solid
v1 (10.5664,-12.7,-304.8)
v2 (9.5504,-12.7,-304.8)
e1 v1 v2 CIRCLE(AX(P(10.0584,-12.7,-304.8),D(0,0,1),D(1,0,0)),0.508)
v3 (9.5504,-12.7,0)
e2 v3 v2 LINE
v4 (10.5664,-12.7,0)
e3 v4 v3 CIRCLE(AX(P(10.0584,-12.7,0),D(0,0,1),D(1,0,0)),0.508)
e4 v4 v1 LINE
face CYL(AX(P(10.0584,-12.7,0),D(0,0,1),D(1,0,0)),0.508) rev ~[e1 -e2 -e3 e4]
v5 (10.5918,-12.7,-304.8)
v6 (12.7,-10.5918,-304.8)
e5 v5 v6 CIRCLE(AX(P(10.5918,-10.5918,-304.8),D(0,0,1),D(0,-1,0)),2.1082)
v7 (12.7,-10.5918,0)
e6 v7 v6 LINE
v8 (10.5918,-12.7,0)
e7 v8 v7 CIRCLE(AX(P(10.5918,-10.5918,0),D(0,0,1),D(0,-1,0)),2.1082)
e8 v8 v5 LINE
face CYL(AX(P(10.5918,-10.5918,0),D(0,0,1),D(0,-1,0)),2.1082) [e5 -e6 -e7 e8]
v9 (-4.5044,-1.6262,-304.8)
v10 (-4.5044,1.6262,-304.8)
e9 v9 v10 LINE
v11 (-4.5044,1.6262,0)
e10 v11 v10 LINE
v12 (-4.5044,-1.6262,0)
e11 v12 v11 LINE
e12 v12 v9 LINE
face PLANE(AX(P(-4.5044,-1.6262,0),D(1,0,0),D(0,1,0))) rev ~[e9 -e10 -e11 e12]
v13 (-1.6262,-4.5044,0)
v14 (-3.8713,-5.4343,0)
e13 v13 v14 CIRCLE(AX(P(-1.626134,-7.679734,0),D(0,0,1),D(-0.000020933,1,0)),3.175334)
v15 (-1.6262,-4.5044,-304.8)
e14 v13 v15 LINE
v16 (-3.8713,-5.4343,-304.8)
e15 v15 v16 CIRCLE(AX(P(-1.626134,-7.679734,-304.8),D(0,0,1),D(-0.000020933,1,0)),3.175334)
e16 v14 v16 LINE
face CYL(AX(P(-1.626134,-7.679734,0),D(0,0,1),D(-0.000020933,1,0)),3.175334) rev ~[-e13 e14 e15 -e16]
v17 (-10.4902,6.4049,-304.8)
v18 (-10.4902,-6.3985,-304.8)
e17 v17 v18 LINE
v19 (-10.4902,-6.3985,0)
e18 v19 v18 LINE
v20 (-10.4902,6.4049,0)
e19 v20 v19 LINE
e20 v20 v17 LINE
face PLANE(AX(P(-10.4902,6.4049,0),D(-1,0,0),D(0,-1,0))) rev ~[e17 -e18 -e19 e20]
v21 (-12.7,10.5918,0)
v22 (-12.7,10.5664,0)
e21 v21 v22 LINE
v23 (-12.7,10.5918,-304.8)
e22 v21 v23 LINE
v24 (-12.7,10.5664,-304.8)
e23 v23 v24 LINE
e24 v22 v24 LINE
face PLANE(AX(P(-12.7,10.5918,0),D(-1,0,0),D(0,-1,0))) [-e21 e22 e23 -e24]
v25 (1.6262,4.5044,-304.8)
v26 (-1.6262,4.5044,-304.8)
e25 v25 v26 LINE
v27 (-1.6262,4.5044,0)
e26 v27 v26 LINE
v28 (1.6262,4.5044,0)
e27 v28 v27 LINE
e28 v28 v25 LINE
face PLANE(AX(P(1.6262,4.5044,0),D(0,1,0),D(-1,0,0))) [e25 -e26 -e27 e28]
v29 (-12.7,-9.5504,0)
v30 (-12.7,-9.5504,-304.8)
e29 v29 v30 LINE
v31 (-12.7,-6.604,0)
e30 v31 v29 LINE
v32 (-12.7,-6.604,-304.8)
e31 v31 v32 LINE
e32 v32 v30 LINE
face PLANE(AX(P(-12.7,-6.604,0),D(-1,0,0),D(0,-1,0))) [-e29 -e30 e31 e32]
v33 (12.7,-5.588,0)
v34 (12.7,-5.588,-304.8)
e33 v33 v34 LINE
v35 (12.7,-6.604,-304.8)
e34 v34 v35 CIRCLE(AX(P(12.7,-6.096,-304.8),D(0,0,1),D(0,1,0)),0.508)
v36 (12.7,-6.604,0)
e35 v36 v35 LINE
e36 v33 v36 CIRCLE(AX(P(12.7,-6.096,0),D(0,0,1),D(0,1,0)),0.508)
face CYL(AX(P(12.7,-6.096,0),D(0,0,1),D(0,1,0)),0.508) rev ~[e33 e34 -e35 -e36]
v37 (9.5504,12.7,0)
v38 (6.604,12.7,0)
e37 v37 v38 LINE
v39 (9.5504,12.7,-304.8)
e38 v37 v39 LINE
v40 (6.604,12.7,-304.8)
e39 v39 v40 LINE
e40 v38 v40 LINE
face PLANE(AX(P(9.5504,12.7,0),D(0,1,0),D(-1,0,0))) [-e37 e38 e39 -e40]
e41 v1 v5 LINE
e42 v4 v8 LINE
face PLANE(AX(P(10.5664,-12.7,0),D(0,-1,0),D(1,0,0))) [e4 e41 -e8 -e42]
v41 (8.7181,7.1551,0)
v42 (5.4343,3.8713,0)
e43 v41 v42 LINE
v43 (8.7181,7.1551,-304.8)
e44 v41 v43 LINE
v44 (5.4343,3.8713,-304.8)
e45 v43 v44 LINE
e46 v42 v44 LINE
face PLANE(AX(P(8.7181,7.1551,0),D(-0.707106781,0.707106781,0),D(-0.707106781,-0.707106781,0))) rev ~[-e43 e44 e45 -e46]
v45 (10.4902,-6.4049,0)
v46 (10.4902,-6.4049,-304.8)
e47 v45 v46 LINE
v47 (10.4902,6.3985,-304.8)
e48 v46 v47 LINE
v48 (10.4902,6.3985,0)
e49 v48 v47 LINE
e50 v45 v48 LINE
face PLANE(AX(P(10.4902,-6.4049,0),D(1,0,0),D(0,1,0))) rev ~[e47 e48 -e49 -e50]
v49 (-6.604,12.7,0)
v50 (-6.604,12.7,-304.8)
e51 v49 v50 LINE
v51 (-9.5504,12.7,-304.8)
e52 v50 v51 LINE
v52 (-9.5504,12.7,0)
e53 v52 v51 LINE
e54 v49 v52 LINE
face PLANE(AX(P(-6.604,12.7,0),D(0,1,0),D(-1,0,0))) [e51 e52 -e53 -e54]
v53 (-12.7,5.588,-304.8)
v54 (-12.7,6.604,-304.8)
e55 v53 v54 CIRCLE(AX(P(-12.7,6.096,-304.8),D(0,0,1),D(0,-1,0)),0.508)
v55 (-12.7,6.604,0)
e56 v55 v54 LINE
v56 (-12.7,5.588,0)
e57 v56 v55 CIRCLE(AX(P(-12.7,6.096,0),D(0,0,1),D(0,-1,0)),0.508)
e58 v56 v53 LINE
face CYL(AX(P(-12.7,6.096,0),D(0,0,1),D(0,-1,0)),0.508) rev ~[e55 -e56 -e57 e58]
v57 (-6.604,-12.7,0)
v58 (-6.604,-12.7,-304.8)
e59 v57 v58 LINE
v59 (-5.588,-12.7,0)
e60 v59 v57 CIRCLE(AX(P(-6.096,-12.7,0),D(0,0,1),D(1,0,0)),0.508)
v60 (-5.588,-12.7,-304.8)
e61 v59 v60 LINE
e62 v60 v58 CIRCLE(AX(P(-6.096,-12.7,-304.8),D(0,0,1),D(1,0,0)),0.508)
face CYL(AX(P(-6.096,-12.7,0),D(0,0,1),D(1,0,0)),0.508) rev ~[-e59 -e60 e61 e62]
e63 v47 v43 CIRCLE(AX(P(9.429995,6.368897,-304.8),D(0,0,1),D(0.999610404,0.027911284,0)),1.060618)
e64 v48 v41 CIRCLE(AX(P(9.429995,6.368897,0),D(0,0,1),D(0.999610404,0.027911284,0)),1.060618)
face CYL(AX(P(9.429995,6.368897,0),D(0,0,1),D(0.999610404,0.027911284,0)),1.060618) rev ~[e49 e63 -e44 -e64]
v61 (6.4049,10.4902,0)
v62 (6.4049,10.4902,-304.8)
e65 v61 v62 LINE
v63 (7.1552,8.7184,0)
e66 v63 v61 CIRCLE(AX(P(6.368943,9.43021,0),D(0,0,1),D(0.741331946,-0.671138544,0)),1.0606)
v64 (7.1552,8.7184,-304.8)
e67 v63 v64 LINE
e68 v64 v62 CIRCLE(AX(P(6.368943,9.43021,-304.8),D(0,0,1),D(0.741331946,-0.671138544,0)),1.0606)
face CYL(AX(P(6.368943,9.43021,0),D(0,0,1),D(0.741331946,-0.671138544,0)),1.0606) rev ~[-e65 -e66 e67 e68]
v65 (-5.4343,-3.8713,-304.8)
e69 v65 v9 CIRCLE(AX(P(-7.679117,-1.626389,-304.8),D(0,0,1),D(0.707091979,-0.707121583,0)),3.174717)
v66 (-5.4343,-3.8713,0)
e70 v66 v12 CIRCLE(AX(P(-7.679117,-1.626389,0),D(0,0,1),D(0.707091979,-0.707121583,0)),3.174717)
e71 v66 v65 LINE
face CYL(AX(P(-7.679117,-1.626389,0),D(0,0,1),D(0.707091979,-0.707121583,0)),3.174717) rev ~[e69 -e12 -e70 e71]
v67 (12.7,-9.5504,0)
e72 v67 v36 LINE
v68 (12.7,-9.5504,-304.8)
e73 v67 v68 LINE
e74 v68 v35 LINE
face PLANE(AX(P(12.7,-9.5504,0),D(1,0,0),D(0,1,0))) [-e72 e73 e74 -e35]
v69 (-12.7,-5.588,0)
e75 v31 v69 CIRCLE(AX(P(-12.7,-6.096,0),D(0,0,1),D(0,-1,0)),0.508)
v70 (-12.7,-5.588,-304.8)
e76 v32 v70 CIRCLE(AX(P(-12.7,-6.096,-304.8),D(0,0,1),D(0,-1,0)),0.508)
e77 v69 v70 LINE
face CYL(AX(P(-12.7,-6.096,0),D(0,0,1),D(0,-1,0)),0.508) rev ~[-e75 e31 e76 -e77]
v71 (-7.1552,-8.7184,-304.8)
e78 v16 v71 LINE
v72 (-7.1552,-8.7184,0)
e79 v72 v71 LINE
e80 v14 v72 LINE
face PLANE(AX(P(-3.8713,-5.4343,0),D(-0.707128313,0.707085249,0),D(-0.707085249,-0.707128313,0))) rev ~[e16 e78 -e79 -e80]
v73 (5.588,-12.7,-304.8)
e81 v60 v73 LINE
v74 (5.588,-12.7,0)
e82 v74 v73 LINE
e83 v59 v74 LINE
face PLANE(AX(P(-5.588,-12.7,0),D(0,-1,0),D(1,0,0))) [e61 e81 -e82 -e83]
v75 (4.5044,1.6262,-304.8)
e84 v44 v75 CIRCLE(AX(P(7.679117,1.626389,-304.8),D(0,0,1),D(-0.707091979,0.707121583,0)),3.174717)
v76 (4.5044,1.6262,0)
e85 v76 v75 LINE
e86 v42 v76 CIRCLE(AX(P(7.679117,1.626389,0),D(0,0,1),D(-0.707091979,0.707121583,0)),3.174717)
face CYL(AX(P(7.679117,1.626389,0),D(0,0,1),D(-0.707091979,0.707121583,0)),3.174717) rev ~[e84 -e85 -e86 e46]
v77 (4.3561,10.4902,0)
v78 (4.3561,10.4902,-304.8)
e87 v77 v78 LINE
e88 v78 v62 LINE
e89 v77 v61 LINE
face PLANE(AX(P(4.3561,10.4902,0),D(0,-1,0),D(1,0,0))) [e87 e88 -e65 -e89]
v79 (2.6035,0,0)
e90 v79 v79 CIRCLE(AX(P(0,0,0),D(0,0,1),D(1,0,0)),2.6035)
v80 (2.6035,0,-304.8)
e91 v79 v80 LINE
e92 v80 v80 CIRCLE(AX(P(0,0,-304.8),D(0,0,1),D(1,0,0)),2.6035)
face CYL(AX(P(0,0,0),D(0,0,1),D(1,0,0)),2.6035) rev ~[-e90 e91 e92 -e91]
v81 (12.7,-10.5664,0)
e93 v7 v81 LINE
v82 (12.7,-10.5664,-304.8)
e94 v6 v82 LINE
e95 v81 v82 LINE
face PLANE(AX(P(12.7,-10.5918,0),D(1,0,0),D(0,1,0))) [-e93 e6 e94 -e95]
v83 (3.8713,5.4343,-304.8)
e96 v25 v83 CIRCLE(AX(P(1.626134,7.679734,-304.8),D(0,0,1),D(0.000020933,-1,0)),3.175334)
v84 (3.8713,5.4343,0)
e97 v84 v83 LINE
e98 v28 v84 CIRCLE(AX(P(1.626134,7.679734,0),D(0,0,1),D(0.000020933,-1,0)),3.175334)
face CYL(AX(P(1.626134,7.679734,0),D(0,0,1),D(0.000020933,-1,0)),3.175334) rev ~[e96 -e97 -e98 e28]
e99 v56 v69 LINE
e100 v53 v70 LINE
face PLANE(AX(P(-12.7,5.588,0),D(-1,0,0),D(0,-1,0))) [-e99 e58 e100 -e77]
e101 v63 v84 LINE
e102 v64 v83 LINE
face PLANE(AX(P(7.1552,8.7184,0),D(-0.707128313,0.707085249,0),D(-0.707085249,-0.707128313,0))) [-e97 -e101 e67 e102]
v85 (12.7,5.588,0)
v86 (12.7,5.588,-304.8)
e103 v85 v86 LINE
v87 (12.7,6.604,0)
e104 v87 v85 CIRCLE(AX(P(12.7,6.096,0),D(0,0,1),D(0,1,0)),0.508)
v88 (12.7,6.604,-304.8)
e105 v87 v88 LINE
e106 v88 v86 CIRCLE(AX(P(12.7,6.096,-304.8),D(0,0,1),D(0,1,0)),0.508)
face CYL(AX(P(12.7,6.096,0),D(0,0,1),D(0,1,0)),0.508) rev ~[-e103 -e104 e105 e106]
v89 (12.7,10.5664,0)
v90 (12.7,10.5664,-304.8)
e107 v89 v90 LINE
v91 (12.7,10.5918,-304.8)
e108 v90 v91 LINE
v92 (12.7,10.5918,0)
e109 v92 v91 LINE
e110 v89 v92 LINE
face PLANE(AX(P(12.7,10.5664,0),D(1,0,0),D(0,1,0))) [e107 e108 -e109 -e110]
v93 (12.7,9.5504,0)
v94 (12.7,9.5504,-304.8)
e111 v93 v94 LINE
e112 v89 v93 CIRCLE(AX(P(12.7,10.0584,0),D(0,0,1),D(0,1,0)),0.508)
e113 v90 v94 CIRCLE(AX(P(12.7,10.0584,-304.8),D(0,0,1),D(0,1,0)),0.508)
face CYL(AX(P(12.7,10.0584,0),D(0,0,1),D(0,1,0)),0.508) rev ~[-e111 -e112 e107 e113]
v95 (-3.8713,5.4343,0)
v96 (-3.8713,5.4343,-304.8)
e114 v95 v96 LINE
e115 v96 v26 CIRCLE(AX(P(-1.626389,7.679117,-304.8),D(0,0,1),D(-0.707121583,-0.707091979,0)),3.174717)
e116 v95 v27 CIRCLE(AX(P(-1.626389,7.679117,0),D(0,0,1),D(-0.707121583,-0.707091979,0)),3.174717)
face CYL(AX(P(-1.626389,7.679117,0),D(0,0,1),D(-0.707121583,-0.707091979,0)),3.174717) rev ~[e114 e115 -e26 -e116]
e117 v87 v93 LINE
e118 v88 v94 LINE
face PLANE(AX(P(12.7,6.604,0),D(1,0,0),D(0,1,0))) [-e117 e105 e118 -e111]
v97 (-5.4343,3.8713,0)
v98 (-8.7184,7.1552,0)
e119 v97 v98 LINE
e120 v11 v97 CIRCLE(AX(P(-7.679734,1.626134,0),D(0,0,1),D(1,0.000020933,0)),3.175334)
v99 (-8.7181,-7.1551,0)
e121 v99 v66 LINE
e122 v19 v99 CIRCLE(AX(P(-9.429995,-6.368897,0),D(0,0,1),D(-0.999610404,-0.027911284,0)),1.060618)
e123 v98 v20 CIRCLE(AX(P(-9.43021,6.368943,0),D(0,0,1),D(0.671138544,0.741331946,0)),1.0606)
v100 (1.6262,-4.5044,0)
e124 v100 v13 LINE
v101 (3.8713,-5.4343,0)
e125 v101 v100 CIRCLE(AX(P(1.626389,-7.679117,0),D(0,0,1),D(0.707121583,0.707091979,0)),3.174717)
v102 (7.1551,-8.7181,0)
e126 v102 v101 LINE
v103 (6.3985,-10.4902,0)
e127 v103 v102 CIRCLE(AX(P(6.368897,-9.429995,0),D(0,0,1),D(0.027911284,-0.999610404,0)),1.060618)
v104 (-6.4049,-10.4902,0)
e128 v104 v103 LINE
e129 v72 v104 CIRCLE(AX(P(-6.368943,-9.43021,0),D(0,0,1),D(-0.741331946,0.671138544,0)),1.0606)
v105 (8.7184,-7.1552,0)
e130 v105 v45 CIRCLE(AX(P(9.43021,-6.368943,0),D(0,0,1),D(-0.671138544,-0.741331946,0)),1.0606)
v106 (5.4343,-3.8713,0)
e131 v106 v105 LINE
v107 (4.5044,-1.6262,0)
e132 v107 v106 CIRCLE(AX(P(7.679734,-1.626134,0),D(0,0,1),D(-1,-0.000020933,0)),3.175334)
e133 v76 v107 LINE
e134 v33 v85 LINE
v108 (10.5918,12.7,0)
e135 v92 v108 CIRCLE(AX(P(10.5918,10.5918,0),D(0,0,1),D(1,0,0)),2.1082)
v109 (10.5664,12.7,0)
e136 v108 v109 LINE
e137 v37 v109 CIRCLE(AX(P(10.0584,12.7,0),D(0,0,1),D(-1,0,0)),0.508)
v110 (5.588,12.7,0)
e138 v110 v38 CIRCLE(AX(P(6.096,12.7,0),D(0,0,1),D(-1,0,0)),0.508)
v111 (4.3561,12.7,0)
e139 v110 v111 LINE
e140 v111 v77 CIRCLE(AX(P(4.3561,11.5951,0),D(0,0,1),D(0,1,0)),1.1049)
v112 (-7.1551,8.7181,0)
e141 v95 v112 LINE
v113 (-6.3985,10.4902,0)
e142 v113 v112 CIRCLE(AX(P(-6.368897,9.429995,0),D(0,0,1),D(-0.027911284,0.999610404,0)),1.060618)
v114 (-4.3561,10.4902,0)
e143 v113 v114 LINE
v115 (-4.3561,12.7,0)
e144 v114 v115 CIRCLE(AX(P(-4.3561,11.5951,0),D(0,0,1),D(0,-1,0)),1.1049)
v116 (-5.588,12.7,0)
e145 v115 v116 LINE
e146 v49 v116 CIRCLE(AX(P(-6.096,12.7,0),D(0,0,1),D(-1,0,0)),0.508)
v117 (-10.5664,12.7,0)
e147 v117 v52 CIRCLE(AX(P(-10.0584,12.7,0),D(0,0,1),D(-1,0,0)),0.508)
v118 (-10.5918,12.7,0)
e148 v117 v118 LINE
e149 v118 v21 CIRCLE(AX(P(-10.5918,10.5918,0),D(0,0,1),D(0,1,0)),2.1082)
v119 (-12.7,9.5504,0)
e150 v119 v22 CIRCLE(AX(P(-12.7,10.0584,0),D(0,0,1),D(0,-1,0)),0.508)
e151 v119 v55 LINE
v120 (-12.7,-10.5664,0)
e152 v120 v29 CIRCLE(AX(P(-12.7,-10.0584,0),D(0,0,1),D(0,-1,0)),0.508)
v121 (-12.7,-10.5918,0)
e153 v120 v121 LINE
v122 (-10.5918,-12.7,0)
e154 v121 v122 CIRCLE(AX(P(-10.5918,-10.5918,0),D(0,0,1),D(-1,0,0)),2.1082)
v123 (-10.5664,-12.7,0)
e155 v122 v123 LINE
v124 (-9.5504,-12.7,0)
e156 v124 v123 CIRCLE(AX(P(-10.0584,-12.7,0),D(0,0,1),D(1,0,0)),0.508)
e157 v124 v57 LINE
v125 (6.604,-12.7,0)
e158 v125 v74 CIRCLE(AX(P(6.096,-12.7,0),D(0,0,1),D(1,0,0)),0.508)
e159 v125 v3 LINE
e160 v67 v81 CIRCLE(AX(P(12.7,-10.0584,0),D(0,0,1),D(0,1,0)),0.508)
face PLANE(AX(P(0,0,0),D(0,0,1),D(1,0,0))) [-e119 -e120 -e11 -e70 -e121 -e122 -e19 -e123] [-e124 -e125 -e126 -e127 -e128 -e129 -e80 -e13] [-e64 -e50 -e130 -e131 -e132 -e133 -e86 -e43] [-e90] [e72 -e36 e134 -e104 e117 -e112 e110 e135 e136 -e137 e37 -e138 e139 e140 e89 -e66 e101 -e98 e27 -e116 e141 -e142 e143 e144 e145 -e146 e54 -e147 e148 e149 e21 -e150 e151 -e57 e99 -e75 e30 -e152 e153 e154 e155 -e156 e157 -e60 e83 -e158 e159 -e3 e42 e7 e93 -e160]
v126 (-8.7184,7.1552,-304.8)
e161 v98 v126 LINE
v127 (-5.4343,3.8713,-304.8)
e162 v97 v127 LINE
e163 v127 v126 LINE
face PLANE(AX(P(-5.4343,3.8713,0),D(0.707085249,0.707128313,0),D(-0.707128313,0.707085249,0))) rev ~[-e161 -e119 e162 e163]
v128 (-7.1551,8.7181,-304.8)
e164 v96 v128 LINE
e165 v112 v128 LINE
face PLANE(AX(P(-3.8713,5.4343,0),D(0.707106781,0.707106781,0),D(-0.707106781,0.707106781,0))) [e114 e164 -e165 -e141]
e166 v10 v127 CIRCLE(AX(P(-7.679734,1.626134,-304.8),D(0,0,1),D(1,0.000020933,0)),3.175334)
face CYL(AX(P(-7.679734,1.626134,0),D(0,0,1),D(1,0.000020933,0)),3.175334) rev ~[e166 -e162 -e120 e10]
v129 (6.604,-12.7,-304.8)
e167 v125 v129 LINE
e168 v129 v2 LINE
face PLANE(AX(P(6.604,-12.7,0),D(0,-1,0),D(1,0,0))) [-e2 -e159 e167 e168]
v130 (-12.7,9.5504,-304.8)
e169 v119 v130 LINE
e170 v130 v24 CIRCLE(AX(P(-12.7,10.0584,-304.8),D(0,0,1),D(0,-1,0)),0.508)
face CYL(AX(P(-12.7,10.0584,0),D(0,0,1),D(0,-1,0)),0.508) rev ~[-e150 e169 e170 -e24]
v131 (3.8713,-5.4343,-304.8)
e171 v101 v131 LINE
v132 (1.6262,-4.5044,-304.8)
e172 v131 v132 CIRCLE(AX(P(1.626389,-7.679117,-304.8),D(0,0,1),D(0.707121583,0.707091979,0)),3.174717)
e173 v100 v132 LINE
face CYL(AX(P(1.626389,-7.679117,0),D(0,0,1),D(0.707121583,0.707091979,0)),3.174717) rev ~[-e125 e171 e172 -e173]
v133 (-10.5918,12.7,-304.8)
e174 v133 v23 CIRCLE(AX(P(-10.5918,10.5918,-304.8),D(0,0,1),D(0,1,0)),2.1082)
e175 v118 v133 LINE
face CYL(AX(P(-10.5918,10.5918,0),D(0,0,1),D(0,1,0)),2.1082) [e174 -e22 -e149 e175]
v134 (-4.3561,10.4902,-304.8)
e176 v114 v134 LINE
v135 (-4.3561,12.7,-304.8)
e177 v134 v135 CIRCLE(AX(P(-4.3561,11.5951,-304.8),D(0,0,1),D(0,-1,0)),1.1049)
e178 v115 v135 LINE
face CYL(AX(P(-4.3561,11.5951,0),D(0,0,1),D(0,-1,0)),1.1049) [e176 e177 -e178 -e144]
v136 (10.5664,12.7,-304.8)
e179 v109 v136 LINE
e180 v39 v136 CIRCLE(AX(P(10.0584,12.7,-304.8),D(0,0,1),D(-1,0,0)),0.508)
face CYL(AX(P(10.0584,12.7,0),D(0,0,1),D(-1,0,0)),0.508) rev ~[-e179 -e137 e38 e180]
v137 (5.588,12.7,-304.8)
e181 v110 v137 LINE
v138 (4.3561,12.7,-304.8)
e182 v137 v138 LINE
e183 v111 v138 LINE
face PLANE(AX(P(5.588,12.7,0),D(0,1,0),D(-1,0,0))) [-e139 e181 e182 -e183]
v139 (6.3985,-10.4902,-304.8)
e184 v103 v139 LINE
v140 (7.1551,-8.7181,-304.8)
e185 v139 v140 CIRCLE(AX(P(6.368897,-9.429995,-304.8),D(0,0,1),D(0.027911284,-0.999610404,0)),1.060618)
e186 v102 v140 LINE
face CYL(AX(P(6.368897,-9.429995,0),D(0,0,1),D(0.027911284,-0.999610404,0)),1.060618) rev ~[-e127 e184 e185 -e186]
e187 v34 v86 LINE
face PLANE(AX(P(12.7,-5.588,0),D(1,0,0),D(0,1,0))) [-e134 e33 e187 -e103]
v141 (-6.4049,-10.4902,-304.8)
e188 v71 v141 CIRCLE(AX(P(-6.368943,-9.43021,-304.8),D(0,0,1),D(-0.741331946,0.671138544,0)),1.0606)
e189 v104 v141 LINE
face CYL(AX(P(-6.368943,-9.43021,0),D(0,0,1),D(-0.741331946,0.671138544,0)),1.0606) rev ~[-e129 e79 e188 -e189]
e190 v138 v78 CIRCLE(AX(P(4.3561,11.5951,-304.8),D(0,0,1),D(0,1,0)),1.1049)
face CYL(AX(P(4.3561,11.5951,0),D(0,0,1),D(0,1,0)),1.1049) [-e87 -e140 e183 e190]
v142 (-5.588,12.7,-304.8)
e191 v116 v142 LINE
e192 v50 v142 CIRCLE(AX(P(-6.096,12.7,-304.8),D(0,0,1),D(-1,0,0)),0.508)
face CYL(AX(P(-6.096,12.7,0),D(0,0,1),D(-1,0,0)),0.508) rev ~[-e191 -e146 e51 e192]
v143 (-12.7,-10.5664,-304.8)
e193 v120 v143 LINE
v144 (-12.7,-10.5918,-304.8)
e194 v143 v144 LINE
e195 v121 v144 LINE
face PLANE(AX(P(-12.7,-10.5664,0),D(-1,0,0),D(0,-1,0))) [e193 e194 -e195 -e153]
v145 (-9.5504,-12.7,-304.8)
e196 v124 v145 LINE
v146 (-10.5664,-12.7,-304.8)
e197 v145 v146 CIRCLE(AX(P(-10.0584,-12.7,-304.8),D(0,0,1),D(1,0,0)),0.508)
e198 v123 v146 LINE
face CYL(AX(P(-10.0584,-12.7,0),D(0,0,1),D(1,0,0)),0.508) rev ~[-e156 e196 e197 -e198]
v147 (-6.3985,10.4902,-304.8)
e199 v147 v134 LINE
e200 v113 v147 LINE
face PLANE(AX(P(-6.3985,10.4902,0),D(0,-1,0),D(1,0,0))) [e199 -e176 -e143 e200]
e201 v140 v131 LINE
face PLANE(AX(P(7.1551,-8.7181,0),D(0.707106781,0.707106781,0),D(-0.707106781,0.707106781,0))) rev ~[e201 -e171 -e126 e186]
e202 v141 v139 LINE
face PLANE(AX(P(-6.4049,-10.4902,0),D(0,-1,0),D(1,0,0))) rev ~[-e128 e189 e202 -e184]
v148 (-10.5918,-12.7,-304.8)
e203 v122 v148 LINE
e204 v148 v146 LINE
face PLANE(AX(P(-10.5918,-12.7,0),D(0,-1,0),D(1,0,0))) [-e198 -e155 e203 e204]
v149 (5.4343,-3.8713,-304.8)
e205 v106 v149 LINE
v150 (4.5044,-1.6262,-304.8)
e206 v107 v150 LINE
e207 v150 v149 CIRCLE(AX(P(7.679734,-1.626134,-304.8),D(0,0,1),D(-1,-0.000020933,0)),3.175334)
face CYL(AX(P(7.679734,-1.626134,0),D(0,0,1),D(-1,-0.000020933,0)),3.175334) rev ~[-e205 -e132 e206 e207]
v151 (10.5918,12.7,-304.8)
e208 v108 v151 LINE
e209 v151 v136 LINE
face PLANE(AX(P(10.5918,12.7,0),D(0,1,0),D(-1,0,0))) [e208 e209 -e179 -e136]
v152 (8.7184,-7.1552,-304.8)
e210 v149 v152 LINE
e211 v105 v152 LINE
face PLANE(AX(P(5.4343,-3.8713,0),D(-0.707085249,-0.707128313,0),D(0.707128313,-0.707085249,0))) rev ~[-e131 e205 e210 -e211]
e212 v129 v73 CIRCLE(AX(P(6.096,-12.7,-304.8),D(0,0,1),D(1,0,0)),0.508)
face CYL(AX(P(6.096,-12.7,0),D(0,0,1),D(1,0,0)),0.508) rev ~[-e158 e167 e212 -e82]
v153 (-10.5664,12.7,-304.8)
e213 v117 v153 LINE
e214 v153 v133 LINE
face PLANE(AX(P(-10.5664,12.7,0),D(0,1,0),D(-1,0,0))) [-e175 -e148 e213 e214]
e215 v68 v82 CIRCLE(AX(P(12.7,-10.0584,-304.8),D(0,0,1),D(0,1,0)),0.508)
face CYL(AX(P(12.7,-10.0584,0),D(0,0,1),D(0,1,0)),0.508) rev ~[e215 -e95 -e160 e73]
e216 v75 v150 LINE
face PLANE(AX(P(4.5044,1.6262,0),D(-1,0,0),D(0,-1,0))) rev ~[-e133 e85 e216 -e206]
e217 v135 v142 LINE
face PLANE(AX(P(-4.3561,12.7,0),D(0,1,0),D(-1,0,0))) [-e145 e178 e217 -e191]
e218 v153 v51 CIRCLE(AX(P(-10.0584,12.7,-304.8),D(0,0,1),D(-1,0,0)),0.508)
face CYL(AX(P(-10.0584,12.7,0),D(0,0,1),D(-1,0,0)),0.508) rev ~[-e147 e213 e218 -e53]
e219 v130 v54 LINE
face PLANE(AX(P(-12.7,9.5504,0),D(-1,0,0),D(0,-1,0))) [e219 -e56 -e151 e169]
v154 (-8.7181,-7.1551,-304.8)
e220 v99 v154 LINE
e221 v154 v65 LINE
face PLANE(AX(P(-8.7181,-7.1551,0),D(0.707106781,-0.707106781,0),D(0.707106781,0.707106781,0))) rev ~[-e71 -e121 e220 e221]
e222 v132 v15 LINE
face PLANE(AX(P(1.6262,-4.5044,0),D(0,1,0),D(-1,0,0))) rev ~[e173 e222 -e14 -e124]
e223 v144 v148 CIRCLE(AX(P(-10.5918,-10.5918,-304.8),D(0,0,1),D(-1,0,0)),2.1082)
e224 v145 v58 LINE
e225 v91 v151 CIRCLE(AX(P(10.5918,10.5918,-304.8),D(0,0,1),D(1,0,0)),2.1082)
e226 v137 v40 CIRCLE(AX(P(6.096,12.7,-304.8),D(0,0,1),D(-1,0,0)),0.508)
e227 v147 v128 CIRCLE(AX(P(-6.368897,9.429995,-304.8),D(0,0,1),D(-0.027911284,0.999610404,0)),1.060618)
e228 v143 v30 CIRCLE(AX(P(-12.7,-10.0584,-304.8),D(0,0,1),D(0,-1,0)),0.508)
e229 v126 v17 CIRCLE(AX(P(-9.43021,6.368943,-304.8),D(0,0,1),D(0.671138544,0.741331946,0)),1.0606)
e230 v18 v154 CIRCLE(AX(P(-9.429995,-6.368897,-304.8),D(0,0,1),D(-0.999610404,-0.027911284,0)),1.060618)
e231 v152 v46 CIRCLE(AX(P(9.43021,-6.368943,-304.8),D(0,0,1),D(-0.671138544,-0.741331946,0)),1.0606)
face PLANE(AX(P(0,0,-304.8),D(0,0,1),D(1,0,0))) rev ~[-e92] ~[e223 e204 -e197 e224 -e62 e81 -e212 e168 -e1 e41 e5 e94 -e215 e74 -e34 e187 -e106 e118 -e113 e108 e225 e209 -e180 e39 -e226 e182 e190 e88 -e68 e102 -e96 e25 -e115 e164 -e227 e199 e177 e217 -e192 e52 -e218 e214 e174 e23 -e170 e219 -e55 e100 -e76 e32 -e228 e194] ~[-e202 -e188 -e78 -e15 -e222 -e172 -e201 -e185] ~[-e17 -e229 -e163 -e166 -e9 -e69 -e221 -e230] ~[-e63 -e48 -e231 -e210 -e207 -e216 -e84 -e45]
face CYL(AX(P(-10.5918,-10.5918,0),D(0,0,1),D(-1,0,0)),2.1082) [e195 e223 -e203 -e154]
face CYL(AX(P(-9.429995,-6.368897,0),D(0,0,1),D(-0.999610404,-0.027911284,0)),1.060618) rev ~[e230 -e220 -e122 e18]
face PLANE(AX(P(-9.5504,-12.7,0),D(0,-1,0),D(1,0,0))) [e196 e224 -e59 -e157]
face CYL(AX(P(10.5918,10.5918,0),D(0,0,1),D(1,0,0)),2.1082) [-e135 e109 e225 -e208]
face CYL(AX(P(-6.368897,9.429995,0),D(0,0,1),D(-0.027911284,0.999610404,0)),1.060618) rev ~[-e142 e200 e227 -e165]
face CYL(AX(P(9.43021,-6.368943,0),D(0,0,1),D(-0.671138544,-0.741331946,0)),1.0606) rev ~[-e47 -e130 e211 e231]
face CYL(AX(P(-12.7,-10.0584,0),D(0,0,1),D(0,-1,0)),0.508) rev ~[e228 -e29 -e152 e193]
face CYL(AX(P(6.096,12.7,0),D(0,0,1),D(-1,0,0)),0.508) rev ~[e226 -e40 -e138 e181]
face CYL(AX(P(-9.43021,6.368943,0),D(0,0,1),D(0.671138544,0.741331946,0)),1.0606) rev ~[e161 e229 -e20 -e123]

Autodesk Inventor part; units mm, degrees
ref_plane "YZ Plane" through (0, 0, 0) normal (1, 0, 0) x (0, 1, 0)
ref_plane "XZ Plane" through (0, 0, 0) normal (0, 1, 0) x (-1, 0, 0)
ref_plane "XY Plane" through (0, 0, 0) normal (0, 0, 1) x (1, 0, 0)
sketch "Sketch1" plane through (0, 0, 0) normal (0, 0, 1) x (1, 0, 0)
  arc A0 (-1.6262, -4.5044) -> (-3.8713, -5.4343) centre (-1.6262, -7.6794) ccw
  line L0 (1.6262, -4.5044) -> (-1.6262, -4.5044)
  arc A1 (3.8713, -5.4343) -> (1.6262, -4.5044) centre (1.6262, -7.6794) ccw
  line L1 (7.1551, -8.7181) -> (3.8713, -5.4343)
  arc A2 (6.3985, -10.4902) -> (7.1551, -8.7181) centre (6.3689, -9.43) ccw
  line L2 (-6.4049, -10.4902) -> (6.3985, -10.4902)
  arc A3 (-7.1552, -8.7184) -> (-6.4049, -10.4902) centre (-6.369, -9.4302) ccw
  line L3 (-3.8713, -5.4343) -> (-7.1552, -8.7184)
  circle A4 centre (0, 0) radius 2.6035
  arc A5 (-4.5044, 1.6262) -> (-5.4343, 3.8713) centre (-7.6794, 1.6262) ccw
  line L4 (-4.5044, -1.6262) -> (-4.5044, 1.6262)
  arc A6 (-5.4343, -3.8713) -> (-4.5044, -1.6262) centre (-7.6794, -1.6262) ccw
  line L5 (-8.7181, -7.1551) -> (-5.4343, -3.8713)
  arc A7 (-10.4902, -6.3985) -> (-8.7181, -7.1551) centre (-9.43, -6.3689) ccw
  line L6 (-10.4902, 6.4049) -> (-10.4902, -6.3985)
  arc A8 (-8.7184, 7.1552) -> (-10.4902, 6.4049) centre (-9.4302, 6.369) ccw
  line L7 (-5.4343, 3.8713) -> (-8.7184, 7.1552)
  arc A9 (8.7184, -7.1552) -> (10.4902, -6.4049) centre (9.4302, -6.369) ccw
  line L8 (5.4343, -3.8713) -> (8.7184, -7.1552)
  arc A10 (4.5044, -1.6262) -> (5.4343, -3.8713) centre (7.6794, -1.6262) ccw
  line L9 (4.5044, 1.6262) -> (4.5044, -1.6262)
  arc A11 (5.4343, 3.8713) -> (4.5044, 1.6262) centre (7.6794, 1.6262) ccw
  line L10 (8.7181, 7.1551) -> (5.4343, 3.8713)
  arc A12 (10.4902, 6.3985) -> (8.7181, 7.1551) centre (9.43, 6.3689) ccw
  line L11 (10.4902, -6.4049) -> (10.4902, 6.3985)
  arc A13 (12.7, -9.5504) -> (12.7, -10.5664) centre (12.7, -10.0584) ccw
  line L12 (12.7, -9.5504) -> (12.7, -6.604)
  arc A14 (12.7, -5.588) -> (12.7, -6.604) centre (12.7, -6.096) ccw
  line L13 (12.7, -5.588) -> (12.7, 5.588)
  arc A15 (12.7, 6.604) -> (12.7, 5.588) centre (12.7, 6.096) ccw
  line L14 (12.7, 6.604) -> (12.7, 9.5504)
  arc A16 (12.7, 10.5664) -> (12.7, 9.5504) centre (12.7, 10.0584) ccw
  line L15 (12.7, 10.5664) -> (12.7, 10.5918)
  arc A17 (12.7, 10.5918) -> (10.5918, 12.7) centre (10.5918, 10.5918) ccw
  line L16 (10.5918, 12.7) -> (10.5664, 12.7)
  arc A18 (9.5504, 12.7) -> (10.5664, 12.7) centre (10.0584, 12.7) ccw
  line L17 (9.5504, 12.7) -> (6.604, 12.7)
  arc A19 (5.588, 12.7) -> (6.604, 12.7) centre (6.096, 12.7) ccw
  line L18 (5.588, 12.7) -> (4.3561, 12.7)
  arc A20 (4.3561, 12.7) -> (4.3561, 10.4902) centre (4.3561, 11.5951) ccw
  line L19 (4.3561, 10.4902) -> (6.4049, 10.4902)
  arc A21 (7.1552, 8.7184) -> (6.4049, 10.4902) centre (6.369, 9.4302) ccw
  line L20 (7.1552, 8.7184) -> (3.8713, 5.4343)
  arc A22 (1.6262, 4.5044) -> (3.8713, 5.4343) centre (1.6262, 7.6794) ccw
  line L21 (1.6262, 4.5044) -> (-1.6262, 4.5044)
  arc A23 (-3.8713, 5.4343) -> (-1.6262, 4.5044) centre (-1.6262, 7.6794) ccw
  line L22 (-3.8713, 5.4343) -> (-7.1551, 8.7181)
  arc A24 (-6.3985, 10.4902) -> (-7.1551, 8.7181) centre (-6.3689, 9.43) ccw
  line L23 (-6.3985, 10.4902) -> (-4.3561, 10.4902)
  arc A25 (-4.3561, 10.4902) -> (-4.3561, 12.7) centre (-4.3561, 11.5951) ccw
  line L24 (-4.3561, 12.7) -> (-5.588, 12.7)
  arc A26 (-6.604, 12.7) -> (-5.588, 12.7) centre (-6.096, 12.7) ccw
  line L25 (-6.604, 12.7) -> (-9.5504, 12.7)
  arc A27 (-10.5664, 12.7) -> (-9.5504, 12.7) centre (-10.0584, 12.7) ccw
  line L26 (-10.5664, 12.7) -> (-10.5918, 12.7)
  arc A28 (-10.5918, 12.7) -> (-12.7, 10.5918) centre (-10.5918, 10.5918) ccw
  line L27 (-12.7, 10.5918) -> (-12.7, 10.5664)
  arc A29 (-12.7, 9.5504) -> (-12.7, 10.5664) centre (-12.7, 10.0584) ccw
  line L28 (-12.7, 9.5504) -> (-12.7, 6.604)
  arc A30 (-12.7, 5.588) -> (-12.7, 6.604) centre (-12.7, 6.096) ccw
  line L29 (-12.7, 5.588) -> (-12.7, -5.588)
  arc A31 (-12.7, -6.604) -> (-12.7, -5.588) centre (-12.7, -6.096) ccw
  line L30 (-12.7, -6.604) -> (-12.7, -9.5504)
  arc A32 (-12.7, -10.5664) -> (-12.7, -9.5504) centre (-12.7, -10.0584) ccw
  line L31 (-12.7, -10.5664) -> (-12.7, -10.5918)
  arc A33 (-12.7, -10.5918) -> (-10.5918, -12.7) centre (-10.5918, -10.5918) ccw
  line L32 (-10.5918, -12.7) -> (-10.5664, -12.7)
  arc A34 (-9.5504, -12.7) -> (-10.5664, -12.7) centre (-10.0584, -12.7) ccw
  line L33 (-9.5504, -12.7) -> (-6.604, -12.7)
  arc A35 (-5.588, -12.7) -> (-6.604, -12.7) centre (-6.096, -12.7) ccw
  line L34 (-5.588, -12.7) -> (5.588, -12.7)
  arc A36 (6.604, -12.7) -> (5.588, -12.7) centre (6.096, -12.7) ccw
  line L35 (6.604, -12.7) -> (9.5504, -12.7)
  arc A37 (10.5664, -12.7) -> (9.5504, -12.7) centre (10.0584, -12.7) ccw
  line L36 (10.5664, -12.7) -> (10.5918, -12.7)
  arc A38 (10.5918, -12.7) -> (12.7, -10.5918) centre (10.5918, -10.5918) ccw
  line L37 (12.7, -10.5918) -> (12.7, -10.5664)
extrude "Extrusion1" add sketch "Sketch1" against normal blind 304.8
properties part number "1001-BLACK-FB"
